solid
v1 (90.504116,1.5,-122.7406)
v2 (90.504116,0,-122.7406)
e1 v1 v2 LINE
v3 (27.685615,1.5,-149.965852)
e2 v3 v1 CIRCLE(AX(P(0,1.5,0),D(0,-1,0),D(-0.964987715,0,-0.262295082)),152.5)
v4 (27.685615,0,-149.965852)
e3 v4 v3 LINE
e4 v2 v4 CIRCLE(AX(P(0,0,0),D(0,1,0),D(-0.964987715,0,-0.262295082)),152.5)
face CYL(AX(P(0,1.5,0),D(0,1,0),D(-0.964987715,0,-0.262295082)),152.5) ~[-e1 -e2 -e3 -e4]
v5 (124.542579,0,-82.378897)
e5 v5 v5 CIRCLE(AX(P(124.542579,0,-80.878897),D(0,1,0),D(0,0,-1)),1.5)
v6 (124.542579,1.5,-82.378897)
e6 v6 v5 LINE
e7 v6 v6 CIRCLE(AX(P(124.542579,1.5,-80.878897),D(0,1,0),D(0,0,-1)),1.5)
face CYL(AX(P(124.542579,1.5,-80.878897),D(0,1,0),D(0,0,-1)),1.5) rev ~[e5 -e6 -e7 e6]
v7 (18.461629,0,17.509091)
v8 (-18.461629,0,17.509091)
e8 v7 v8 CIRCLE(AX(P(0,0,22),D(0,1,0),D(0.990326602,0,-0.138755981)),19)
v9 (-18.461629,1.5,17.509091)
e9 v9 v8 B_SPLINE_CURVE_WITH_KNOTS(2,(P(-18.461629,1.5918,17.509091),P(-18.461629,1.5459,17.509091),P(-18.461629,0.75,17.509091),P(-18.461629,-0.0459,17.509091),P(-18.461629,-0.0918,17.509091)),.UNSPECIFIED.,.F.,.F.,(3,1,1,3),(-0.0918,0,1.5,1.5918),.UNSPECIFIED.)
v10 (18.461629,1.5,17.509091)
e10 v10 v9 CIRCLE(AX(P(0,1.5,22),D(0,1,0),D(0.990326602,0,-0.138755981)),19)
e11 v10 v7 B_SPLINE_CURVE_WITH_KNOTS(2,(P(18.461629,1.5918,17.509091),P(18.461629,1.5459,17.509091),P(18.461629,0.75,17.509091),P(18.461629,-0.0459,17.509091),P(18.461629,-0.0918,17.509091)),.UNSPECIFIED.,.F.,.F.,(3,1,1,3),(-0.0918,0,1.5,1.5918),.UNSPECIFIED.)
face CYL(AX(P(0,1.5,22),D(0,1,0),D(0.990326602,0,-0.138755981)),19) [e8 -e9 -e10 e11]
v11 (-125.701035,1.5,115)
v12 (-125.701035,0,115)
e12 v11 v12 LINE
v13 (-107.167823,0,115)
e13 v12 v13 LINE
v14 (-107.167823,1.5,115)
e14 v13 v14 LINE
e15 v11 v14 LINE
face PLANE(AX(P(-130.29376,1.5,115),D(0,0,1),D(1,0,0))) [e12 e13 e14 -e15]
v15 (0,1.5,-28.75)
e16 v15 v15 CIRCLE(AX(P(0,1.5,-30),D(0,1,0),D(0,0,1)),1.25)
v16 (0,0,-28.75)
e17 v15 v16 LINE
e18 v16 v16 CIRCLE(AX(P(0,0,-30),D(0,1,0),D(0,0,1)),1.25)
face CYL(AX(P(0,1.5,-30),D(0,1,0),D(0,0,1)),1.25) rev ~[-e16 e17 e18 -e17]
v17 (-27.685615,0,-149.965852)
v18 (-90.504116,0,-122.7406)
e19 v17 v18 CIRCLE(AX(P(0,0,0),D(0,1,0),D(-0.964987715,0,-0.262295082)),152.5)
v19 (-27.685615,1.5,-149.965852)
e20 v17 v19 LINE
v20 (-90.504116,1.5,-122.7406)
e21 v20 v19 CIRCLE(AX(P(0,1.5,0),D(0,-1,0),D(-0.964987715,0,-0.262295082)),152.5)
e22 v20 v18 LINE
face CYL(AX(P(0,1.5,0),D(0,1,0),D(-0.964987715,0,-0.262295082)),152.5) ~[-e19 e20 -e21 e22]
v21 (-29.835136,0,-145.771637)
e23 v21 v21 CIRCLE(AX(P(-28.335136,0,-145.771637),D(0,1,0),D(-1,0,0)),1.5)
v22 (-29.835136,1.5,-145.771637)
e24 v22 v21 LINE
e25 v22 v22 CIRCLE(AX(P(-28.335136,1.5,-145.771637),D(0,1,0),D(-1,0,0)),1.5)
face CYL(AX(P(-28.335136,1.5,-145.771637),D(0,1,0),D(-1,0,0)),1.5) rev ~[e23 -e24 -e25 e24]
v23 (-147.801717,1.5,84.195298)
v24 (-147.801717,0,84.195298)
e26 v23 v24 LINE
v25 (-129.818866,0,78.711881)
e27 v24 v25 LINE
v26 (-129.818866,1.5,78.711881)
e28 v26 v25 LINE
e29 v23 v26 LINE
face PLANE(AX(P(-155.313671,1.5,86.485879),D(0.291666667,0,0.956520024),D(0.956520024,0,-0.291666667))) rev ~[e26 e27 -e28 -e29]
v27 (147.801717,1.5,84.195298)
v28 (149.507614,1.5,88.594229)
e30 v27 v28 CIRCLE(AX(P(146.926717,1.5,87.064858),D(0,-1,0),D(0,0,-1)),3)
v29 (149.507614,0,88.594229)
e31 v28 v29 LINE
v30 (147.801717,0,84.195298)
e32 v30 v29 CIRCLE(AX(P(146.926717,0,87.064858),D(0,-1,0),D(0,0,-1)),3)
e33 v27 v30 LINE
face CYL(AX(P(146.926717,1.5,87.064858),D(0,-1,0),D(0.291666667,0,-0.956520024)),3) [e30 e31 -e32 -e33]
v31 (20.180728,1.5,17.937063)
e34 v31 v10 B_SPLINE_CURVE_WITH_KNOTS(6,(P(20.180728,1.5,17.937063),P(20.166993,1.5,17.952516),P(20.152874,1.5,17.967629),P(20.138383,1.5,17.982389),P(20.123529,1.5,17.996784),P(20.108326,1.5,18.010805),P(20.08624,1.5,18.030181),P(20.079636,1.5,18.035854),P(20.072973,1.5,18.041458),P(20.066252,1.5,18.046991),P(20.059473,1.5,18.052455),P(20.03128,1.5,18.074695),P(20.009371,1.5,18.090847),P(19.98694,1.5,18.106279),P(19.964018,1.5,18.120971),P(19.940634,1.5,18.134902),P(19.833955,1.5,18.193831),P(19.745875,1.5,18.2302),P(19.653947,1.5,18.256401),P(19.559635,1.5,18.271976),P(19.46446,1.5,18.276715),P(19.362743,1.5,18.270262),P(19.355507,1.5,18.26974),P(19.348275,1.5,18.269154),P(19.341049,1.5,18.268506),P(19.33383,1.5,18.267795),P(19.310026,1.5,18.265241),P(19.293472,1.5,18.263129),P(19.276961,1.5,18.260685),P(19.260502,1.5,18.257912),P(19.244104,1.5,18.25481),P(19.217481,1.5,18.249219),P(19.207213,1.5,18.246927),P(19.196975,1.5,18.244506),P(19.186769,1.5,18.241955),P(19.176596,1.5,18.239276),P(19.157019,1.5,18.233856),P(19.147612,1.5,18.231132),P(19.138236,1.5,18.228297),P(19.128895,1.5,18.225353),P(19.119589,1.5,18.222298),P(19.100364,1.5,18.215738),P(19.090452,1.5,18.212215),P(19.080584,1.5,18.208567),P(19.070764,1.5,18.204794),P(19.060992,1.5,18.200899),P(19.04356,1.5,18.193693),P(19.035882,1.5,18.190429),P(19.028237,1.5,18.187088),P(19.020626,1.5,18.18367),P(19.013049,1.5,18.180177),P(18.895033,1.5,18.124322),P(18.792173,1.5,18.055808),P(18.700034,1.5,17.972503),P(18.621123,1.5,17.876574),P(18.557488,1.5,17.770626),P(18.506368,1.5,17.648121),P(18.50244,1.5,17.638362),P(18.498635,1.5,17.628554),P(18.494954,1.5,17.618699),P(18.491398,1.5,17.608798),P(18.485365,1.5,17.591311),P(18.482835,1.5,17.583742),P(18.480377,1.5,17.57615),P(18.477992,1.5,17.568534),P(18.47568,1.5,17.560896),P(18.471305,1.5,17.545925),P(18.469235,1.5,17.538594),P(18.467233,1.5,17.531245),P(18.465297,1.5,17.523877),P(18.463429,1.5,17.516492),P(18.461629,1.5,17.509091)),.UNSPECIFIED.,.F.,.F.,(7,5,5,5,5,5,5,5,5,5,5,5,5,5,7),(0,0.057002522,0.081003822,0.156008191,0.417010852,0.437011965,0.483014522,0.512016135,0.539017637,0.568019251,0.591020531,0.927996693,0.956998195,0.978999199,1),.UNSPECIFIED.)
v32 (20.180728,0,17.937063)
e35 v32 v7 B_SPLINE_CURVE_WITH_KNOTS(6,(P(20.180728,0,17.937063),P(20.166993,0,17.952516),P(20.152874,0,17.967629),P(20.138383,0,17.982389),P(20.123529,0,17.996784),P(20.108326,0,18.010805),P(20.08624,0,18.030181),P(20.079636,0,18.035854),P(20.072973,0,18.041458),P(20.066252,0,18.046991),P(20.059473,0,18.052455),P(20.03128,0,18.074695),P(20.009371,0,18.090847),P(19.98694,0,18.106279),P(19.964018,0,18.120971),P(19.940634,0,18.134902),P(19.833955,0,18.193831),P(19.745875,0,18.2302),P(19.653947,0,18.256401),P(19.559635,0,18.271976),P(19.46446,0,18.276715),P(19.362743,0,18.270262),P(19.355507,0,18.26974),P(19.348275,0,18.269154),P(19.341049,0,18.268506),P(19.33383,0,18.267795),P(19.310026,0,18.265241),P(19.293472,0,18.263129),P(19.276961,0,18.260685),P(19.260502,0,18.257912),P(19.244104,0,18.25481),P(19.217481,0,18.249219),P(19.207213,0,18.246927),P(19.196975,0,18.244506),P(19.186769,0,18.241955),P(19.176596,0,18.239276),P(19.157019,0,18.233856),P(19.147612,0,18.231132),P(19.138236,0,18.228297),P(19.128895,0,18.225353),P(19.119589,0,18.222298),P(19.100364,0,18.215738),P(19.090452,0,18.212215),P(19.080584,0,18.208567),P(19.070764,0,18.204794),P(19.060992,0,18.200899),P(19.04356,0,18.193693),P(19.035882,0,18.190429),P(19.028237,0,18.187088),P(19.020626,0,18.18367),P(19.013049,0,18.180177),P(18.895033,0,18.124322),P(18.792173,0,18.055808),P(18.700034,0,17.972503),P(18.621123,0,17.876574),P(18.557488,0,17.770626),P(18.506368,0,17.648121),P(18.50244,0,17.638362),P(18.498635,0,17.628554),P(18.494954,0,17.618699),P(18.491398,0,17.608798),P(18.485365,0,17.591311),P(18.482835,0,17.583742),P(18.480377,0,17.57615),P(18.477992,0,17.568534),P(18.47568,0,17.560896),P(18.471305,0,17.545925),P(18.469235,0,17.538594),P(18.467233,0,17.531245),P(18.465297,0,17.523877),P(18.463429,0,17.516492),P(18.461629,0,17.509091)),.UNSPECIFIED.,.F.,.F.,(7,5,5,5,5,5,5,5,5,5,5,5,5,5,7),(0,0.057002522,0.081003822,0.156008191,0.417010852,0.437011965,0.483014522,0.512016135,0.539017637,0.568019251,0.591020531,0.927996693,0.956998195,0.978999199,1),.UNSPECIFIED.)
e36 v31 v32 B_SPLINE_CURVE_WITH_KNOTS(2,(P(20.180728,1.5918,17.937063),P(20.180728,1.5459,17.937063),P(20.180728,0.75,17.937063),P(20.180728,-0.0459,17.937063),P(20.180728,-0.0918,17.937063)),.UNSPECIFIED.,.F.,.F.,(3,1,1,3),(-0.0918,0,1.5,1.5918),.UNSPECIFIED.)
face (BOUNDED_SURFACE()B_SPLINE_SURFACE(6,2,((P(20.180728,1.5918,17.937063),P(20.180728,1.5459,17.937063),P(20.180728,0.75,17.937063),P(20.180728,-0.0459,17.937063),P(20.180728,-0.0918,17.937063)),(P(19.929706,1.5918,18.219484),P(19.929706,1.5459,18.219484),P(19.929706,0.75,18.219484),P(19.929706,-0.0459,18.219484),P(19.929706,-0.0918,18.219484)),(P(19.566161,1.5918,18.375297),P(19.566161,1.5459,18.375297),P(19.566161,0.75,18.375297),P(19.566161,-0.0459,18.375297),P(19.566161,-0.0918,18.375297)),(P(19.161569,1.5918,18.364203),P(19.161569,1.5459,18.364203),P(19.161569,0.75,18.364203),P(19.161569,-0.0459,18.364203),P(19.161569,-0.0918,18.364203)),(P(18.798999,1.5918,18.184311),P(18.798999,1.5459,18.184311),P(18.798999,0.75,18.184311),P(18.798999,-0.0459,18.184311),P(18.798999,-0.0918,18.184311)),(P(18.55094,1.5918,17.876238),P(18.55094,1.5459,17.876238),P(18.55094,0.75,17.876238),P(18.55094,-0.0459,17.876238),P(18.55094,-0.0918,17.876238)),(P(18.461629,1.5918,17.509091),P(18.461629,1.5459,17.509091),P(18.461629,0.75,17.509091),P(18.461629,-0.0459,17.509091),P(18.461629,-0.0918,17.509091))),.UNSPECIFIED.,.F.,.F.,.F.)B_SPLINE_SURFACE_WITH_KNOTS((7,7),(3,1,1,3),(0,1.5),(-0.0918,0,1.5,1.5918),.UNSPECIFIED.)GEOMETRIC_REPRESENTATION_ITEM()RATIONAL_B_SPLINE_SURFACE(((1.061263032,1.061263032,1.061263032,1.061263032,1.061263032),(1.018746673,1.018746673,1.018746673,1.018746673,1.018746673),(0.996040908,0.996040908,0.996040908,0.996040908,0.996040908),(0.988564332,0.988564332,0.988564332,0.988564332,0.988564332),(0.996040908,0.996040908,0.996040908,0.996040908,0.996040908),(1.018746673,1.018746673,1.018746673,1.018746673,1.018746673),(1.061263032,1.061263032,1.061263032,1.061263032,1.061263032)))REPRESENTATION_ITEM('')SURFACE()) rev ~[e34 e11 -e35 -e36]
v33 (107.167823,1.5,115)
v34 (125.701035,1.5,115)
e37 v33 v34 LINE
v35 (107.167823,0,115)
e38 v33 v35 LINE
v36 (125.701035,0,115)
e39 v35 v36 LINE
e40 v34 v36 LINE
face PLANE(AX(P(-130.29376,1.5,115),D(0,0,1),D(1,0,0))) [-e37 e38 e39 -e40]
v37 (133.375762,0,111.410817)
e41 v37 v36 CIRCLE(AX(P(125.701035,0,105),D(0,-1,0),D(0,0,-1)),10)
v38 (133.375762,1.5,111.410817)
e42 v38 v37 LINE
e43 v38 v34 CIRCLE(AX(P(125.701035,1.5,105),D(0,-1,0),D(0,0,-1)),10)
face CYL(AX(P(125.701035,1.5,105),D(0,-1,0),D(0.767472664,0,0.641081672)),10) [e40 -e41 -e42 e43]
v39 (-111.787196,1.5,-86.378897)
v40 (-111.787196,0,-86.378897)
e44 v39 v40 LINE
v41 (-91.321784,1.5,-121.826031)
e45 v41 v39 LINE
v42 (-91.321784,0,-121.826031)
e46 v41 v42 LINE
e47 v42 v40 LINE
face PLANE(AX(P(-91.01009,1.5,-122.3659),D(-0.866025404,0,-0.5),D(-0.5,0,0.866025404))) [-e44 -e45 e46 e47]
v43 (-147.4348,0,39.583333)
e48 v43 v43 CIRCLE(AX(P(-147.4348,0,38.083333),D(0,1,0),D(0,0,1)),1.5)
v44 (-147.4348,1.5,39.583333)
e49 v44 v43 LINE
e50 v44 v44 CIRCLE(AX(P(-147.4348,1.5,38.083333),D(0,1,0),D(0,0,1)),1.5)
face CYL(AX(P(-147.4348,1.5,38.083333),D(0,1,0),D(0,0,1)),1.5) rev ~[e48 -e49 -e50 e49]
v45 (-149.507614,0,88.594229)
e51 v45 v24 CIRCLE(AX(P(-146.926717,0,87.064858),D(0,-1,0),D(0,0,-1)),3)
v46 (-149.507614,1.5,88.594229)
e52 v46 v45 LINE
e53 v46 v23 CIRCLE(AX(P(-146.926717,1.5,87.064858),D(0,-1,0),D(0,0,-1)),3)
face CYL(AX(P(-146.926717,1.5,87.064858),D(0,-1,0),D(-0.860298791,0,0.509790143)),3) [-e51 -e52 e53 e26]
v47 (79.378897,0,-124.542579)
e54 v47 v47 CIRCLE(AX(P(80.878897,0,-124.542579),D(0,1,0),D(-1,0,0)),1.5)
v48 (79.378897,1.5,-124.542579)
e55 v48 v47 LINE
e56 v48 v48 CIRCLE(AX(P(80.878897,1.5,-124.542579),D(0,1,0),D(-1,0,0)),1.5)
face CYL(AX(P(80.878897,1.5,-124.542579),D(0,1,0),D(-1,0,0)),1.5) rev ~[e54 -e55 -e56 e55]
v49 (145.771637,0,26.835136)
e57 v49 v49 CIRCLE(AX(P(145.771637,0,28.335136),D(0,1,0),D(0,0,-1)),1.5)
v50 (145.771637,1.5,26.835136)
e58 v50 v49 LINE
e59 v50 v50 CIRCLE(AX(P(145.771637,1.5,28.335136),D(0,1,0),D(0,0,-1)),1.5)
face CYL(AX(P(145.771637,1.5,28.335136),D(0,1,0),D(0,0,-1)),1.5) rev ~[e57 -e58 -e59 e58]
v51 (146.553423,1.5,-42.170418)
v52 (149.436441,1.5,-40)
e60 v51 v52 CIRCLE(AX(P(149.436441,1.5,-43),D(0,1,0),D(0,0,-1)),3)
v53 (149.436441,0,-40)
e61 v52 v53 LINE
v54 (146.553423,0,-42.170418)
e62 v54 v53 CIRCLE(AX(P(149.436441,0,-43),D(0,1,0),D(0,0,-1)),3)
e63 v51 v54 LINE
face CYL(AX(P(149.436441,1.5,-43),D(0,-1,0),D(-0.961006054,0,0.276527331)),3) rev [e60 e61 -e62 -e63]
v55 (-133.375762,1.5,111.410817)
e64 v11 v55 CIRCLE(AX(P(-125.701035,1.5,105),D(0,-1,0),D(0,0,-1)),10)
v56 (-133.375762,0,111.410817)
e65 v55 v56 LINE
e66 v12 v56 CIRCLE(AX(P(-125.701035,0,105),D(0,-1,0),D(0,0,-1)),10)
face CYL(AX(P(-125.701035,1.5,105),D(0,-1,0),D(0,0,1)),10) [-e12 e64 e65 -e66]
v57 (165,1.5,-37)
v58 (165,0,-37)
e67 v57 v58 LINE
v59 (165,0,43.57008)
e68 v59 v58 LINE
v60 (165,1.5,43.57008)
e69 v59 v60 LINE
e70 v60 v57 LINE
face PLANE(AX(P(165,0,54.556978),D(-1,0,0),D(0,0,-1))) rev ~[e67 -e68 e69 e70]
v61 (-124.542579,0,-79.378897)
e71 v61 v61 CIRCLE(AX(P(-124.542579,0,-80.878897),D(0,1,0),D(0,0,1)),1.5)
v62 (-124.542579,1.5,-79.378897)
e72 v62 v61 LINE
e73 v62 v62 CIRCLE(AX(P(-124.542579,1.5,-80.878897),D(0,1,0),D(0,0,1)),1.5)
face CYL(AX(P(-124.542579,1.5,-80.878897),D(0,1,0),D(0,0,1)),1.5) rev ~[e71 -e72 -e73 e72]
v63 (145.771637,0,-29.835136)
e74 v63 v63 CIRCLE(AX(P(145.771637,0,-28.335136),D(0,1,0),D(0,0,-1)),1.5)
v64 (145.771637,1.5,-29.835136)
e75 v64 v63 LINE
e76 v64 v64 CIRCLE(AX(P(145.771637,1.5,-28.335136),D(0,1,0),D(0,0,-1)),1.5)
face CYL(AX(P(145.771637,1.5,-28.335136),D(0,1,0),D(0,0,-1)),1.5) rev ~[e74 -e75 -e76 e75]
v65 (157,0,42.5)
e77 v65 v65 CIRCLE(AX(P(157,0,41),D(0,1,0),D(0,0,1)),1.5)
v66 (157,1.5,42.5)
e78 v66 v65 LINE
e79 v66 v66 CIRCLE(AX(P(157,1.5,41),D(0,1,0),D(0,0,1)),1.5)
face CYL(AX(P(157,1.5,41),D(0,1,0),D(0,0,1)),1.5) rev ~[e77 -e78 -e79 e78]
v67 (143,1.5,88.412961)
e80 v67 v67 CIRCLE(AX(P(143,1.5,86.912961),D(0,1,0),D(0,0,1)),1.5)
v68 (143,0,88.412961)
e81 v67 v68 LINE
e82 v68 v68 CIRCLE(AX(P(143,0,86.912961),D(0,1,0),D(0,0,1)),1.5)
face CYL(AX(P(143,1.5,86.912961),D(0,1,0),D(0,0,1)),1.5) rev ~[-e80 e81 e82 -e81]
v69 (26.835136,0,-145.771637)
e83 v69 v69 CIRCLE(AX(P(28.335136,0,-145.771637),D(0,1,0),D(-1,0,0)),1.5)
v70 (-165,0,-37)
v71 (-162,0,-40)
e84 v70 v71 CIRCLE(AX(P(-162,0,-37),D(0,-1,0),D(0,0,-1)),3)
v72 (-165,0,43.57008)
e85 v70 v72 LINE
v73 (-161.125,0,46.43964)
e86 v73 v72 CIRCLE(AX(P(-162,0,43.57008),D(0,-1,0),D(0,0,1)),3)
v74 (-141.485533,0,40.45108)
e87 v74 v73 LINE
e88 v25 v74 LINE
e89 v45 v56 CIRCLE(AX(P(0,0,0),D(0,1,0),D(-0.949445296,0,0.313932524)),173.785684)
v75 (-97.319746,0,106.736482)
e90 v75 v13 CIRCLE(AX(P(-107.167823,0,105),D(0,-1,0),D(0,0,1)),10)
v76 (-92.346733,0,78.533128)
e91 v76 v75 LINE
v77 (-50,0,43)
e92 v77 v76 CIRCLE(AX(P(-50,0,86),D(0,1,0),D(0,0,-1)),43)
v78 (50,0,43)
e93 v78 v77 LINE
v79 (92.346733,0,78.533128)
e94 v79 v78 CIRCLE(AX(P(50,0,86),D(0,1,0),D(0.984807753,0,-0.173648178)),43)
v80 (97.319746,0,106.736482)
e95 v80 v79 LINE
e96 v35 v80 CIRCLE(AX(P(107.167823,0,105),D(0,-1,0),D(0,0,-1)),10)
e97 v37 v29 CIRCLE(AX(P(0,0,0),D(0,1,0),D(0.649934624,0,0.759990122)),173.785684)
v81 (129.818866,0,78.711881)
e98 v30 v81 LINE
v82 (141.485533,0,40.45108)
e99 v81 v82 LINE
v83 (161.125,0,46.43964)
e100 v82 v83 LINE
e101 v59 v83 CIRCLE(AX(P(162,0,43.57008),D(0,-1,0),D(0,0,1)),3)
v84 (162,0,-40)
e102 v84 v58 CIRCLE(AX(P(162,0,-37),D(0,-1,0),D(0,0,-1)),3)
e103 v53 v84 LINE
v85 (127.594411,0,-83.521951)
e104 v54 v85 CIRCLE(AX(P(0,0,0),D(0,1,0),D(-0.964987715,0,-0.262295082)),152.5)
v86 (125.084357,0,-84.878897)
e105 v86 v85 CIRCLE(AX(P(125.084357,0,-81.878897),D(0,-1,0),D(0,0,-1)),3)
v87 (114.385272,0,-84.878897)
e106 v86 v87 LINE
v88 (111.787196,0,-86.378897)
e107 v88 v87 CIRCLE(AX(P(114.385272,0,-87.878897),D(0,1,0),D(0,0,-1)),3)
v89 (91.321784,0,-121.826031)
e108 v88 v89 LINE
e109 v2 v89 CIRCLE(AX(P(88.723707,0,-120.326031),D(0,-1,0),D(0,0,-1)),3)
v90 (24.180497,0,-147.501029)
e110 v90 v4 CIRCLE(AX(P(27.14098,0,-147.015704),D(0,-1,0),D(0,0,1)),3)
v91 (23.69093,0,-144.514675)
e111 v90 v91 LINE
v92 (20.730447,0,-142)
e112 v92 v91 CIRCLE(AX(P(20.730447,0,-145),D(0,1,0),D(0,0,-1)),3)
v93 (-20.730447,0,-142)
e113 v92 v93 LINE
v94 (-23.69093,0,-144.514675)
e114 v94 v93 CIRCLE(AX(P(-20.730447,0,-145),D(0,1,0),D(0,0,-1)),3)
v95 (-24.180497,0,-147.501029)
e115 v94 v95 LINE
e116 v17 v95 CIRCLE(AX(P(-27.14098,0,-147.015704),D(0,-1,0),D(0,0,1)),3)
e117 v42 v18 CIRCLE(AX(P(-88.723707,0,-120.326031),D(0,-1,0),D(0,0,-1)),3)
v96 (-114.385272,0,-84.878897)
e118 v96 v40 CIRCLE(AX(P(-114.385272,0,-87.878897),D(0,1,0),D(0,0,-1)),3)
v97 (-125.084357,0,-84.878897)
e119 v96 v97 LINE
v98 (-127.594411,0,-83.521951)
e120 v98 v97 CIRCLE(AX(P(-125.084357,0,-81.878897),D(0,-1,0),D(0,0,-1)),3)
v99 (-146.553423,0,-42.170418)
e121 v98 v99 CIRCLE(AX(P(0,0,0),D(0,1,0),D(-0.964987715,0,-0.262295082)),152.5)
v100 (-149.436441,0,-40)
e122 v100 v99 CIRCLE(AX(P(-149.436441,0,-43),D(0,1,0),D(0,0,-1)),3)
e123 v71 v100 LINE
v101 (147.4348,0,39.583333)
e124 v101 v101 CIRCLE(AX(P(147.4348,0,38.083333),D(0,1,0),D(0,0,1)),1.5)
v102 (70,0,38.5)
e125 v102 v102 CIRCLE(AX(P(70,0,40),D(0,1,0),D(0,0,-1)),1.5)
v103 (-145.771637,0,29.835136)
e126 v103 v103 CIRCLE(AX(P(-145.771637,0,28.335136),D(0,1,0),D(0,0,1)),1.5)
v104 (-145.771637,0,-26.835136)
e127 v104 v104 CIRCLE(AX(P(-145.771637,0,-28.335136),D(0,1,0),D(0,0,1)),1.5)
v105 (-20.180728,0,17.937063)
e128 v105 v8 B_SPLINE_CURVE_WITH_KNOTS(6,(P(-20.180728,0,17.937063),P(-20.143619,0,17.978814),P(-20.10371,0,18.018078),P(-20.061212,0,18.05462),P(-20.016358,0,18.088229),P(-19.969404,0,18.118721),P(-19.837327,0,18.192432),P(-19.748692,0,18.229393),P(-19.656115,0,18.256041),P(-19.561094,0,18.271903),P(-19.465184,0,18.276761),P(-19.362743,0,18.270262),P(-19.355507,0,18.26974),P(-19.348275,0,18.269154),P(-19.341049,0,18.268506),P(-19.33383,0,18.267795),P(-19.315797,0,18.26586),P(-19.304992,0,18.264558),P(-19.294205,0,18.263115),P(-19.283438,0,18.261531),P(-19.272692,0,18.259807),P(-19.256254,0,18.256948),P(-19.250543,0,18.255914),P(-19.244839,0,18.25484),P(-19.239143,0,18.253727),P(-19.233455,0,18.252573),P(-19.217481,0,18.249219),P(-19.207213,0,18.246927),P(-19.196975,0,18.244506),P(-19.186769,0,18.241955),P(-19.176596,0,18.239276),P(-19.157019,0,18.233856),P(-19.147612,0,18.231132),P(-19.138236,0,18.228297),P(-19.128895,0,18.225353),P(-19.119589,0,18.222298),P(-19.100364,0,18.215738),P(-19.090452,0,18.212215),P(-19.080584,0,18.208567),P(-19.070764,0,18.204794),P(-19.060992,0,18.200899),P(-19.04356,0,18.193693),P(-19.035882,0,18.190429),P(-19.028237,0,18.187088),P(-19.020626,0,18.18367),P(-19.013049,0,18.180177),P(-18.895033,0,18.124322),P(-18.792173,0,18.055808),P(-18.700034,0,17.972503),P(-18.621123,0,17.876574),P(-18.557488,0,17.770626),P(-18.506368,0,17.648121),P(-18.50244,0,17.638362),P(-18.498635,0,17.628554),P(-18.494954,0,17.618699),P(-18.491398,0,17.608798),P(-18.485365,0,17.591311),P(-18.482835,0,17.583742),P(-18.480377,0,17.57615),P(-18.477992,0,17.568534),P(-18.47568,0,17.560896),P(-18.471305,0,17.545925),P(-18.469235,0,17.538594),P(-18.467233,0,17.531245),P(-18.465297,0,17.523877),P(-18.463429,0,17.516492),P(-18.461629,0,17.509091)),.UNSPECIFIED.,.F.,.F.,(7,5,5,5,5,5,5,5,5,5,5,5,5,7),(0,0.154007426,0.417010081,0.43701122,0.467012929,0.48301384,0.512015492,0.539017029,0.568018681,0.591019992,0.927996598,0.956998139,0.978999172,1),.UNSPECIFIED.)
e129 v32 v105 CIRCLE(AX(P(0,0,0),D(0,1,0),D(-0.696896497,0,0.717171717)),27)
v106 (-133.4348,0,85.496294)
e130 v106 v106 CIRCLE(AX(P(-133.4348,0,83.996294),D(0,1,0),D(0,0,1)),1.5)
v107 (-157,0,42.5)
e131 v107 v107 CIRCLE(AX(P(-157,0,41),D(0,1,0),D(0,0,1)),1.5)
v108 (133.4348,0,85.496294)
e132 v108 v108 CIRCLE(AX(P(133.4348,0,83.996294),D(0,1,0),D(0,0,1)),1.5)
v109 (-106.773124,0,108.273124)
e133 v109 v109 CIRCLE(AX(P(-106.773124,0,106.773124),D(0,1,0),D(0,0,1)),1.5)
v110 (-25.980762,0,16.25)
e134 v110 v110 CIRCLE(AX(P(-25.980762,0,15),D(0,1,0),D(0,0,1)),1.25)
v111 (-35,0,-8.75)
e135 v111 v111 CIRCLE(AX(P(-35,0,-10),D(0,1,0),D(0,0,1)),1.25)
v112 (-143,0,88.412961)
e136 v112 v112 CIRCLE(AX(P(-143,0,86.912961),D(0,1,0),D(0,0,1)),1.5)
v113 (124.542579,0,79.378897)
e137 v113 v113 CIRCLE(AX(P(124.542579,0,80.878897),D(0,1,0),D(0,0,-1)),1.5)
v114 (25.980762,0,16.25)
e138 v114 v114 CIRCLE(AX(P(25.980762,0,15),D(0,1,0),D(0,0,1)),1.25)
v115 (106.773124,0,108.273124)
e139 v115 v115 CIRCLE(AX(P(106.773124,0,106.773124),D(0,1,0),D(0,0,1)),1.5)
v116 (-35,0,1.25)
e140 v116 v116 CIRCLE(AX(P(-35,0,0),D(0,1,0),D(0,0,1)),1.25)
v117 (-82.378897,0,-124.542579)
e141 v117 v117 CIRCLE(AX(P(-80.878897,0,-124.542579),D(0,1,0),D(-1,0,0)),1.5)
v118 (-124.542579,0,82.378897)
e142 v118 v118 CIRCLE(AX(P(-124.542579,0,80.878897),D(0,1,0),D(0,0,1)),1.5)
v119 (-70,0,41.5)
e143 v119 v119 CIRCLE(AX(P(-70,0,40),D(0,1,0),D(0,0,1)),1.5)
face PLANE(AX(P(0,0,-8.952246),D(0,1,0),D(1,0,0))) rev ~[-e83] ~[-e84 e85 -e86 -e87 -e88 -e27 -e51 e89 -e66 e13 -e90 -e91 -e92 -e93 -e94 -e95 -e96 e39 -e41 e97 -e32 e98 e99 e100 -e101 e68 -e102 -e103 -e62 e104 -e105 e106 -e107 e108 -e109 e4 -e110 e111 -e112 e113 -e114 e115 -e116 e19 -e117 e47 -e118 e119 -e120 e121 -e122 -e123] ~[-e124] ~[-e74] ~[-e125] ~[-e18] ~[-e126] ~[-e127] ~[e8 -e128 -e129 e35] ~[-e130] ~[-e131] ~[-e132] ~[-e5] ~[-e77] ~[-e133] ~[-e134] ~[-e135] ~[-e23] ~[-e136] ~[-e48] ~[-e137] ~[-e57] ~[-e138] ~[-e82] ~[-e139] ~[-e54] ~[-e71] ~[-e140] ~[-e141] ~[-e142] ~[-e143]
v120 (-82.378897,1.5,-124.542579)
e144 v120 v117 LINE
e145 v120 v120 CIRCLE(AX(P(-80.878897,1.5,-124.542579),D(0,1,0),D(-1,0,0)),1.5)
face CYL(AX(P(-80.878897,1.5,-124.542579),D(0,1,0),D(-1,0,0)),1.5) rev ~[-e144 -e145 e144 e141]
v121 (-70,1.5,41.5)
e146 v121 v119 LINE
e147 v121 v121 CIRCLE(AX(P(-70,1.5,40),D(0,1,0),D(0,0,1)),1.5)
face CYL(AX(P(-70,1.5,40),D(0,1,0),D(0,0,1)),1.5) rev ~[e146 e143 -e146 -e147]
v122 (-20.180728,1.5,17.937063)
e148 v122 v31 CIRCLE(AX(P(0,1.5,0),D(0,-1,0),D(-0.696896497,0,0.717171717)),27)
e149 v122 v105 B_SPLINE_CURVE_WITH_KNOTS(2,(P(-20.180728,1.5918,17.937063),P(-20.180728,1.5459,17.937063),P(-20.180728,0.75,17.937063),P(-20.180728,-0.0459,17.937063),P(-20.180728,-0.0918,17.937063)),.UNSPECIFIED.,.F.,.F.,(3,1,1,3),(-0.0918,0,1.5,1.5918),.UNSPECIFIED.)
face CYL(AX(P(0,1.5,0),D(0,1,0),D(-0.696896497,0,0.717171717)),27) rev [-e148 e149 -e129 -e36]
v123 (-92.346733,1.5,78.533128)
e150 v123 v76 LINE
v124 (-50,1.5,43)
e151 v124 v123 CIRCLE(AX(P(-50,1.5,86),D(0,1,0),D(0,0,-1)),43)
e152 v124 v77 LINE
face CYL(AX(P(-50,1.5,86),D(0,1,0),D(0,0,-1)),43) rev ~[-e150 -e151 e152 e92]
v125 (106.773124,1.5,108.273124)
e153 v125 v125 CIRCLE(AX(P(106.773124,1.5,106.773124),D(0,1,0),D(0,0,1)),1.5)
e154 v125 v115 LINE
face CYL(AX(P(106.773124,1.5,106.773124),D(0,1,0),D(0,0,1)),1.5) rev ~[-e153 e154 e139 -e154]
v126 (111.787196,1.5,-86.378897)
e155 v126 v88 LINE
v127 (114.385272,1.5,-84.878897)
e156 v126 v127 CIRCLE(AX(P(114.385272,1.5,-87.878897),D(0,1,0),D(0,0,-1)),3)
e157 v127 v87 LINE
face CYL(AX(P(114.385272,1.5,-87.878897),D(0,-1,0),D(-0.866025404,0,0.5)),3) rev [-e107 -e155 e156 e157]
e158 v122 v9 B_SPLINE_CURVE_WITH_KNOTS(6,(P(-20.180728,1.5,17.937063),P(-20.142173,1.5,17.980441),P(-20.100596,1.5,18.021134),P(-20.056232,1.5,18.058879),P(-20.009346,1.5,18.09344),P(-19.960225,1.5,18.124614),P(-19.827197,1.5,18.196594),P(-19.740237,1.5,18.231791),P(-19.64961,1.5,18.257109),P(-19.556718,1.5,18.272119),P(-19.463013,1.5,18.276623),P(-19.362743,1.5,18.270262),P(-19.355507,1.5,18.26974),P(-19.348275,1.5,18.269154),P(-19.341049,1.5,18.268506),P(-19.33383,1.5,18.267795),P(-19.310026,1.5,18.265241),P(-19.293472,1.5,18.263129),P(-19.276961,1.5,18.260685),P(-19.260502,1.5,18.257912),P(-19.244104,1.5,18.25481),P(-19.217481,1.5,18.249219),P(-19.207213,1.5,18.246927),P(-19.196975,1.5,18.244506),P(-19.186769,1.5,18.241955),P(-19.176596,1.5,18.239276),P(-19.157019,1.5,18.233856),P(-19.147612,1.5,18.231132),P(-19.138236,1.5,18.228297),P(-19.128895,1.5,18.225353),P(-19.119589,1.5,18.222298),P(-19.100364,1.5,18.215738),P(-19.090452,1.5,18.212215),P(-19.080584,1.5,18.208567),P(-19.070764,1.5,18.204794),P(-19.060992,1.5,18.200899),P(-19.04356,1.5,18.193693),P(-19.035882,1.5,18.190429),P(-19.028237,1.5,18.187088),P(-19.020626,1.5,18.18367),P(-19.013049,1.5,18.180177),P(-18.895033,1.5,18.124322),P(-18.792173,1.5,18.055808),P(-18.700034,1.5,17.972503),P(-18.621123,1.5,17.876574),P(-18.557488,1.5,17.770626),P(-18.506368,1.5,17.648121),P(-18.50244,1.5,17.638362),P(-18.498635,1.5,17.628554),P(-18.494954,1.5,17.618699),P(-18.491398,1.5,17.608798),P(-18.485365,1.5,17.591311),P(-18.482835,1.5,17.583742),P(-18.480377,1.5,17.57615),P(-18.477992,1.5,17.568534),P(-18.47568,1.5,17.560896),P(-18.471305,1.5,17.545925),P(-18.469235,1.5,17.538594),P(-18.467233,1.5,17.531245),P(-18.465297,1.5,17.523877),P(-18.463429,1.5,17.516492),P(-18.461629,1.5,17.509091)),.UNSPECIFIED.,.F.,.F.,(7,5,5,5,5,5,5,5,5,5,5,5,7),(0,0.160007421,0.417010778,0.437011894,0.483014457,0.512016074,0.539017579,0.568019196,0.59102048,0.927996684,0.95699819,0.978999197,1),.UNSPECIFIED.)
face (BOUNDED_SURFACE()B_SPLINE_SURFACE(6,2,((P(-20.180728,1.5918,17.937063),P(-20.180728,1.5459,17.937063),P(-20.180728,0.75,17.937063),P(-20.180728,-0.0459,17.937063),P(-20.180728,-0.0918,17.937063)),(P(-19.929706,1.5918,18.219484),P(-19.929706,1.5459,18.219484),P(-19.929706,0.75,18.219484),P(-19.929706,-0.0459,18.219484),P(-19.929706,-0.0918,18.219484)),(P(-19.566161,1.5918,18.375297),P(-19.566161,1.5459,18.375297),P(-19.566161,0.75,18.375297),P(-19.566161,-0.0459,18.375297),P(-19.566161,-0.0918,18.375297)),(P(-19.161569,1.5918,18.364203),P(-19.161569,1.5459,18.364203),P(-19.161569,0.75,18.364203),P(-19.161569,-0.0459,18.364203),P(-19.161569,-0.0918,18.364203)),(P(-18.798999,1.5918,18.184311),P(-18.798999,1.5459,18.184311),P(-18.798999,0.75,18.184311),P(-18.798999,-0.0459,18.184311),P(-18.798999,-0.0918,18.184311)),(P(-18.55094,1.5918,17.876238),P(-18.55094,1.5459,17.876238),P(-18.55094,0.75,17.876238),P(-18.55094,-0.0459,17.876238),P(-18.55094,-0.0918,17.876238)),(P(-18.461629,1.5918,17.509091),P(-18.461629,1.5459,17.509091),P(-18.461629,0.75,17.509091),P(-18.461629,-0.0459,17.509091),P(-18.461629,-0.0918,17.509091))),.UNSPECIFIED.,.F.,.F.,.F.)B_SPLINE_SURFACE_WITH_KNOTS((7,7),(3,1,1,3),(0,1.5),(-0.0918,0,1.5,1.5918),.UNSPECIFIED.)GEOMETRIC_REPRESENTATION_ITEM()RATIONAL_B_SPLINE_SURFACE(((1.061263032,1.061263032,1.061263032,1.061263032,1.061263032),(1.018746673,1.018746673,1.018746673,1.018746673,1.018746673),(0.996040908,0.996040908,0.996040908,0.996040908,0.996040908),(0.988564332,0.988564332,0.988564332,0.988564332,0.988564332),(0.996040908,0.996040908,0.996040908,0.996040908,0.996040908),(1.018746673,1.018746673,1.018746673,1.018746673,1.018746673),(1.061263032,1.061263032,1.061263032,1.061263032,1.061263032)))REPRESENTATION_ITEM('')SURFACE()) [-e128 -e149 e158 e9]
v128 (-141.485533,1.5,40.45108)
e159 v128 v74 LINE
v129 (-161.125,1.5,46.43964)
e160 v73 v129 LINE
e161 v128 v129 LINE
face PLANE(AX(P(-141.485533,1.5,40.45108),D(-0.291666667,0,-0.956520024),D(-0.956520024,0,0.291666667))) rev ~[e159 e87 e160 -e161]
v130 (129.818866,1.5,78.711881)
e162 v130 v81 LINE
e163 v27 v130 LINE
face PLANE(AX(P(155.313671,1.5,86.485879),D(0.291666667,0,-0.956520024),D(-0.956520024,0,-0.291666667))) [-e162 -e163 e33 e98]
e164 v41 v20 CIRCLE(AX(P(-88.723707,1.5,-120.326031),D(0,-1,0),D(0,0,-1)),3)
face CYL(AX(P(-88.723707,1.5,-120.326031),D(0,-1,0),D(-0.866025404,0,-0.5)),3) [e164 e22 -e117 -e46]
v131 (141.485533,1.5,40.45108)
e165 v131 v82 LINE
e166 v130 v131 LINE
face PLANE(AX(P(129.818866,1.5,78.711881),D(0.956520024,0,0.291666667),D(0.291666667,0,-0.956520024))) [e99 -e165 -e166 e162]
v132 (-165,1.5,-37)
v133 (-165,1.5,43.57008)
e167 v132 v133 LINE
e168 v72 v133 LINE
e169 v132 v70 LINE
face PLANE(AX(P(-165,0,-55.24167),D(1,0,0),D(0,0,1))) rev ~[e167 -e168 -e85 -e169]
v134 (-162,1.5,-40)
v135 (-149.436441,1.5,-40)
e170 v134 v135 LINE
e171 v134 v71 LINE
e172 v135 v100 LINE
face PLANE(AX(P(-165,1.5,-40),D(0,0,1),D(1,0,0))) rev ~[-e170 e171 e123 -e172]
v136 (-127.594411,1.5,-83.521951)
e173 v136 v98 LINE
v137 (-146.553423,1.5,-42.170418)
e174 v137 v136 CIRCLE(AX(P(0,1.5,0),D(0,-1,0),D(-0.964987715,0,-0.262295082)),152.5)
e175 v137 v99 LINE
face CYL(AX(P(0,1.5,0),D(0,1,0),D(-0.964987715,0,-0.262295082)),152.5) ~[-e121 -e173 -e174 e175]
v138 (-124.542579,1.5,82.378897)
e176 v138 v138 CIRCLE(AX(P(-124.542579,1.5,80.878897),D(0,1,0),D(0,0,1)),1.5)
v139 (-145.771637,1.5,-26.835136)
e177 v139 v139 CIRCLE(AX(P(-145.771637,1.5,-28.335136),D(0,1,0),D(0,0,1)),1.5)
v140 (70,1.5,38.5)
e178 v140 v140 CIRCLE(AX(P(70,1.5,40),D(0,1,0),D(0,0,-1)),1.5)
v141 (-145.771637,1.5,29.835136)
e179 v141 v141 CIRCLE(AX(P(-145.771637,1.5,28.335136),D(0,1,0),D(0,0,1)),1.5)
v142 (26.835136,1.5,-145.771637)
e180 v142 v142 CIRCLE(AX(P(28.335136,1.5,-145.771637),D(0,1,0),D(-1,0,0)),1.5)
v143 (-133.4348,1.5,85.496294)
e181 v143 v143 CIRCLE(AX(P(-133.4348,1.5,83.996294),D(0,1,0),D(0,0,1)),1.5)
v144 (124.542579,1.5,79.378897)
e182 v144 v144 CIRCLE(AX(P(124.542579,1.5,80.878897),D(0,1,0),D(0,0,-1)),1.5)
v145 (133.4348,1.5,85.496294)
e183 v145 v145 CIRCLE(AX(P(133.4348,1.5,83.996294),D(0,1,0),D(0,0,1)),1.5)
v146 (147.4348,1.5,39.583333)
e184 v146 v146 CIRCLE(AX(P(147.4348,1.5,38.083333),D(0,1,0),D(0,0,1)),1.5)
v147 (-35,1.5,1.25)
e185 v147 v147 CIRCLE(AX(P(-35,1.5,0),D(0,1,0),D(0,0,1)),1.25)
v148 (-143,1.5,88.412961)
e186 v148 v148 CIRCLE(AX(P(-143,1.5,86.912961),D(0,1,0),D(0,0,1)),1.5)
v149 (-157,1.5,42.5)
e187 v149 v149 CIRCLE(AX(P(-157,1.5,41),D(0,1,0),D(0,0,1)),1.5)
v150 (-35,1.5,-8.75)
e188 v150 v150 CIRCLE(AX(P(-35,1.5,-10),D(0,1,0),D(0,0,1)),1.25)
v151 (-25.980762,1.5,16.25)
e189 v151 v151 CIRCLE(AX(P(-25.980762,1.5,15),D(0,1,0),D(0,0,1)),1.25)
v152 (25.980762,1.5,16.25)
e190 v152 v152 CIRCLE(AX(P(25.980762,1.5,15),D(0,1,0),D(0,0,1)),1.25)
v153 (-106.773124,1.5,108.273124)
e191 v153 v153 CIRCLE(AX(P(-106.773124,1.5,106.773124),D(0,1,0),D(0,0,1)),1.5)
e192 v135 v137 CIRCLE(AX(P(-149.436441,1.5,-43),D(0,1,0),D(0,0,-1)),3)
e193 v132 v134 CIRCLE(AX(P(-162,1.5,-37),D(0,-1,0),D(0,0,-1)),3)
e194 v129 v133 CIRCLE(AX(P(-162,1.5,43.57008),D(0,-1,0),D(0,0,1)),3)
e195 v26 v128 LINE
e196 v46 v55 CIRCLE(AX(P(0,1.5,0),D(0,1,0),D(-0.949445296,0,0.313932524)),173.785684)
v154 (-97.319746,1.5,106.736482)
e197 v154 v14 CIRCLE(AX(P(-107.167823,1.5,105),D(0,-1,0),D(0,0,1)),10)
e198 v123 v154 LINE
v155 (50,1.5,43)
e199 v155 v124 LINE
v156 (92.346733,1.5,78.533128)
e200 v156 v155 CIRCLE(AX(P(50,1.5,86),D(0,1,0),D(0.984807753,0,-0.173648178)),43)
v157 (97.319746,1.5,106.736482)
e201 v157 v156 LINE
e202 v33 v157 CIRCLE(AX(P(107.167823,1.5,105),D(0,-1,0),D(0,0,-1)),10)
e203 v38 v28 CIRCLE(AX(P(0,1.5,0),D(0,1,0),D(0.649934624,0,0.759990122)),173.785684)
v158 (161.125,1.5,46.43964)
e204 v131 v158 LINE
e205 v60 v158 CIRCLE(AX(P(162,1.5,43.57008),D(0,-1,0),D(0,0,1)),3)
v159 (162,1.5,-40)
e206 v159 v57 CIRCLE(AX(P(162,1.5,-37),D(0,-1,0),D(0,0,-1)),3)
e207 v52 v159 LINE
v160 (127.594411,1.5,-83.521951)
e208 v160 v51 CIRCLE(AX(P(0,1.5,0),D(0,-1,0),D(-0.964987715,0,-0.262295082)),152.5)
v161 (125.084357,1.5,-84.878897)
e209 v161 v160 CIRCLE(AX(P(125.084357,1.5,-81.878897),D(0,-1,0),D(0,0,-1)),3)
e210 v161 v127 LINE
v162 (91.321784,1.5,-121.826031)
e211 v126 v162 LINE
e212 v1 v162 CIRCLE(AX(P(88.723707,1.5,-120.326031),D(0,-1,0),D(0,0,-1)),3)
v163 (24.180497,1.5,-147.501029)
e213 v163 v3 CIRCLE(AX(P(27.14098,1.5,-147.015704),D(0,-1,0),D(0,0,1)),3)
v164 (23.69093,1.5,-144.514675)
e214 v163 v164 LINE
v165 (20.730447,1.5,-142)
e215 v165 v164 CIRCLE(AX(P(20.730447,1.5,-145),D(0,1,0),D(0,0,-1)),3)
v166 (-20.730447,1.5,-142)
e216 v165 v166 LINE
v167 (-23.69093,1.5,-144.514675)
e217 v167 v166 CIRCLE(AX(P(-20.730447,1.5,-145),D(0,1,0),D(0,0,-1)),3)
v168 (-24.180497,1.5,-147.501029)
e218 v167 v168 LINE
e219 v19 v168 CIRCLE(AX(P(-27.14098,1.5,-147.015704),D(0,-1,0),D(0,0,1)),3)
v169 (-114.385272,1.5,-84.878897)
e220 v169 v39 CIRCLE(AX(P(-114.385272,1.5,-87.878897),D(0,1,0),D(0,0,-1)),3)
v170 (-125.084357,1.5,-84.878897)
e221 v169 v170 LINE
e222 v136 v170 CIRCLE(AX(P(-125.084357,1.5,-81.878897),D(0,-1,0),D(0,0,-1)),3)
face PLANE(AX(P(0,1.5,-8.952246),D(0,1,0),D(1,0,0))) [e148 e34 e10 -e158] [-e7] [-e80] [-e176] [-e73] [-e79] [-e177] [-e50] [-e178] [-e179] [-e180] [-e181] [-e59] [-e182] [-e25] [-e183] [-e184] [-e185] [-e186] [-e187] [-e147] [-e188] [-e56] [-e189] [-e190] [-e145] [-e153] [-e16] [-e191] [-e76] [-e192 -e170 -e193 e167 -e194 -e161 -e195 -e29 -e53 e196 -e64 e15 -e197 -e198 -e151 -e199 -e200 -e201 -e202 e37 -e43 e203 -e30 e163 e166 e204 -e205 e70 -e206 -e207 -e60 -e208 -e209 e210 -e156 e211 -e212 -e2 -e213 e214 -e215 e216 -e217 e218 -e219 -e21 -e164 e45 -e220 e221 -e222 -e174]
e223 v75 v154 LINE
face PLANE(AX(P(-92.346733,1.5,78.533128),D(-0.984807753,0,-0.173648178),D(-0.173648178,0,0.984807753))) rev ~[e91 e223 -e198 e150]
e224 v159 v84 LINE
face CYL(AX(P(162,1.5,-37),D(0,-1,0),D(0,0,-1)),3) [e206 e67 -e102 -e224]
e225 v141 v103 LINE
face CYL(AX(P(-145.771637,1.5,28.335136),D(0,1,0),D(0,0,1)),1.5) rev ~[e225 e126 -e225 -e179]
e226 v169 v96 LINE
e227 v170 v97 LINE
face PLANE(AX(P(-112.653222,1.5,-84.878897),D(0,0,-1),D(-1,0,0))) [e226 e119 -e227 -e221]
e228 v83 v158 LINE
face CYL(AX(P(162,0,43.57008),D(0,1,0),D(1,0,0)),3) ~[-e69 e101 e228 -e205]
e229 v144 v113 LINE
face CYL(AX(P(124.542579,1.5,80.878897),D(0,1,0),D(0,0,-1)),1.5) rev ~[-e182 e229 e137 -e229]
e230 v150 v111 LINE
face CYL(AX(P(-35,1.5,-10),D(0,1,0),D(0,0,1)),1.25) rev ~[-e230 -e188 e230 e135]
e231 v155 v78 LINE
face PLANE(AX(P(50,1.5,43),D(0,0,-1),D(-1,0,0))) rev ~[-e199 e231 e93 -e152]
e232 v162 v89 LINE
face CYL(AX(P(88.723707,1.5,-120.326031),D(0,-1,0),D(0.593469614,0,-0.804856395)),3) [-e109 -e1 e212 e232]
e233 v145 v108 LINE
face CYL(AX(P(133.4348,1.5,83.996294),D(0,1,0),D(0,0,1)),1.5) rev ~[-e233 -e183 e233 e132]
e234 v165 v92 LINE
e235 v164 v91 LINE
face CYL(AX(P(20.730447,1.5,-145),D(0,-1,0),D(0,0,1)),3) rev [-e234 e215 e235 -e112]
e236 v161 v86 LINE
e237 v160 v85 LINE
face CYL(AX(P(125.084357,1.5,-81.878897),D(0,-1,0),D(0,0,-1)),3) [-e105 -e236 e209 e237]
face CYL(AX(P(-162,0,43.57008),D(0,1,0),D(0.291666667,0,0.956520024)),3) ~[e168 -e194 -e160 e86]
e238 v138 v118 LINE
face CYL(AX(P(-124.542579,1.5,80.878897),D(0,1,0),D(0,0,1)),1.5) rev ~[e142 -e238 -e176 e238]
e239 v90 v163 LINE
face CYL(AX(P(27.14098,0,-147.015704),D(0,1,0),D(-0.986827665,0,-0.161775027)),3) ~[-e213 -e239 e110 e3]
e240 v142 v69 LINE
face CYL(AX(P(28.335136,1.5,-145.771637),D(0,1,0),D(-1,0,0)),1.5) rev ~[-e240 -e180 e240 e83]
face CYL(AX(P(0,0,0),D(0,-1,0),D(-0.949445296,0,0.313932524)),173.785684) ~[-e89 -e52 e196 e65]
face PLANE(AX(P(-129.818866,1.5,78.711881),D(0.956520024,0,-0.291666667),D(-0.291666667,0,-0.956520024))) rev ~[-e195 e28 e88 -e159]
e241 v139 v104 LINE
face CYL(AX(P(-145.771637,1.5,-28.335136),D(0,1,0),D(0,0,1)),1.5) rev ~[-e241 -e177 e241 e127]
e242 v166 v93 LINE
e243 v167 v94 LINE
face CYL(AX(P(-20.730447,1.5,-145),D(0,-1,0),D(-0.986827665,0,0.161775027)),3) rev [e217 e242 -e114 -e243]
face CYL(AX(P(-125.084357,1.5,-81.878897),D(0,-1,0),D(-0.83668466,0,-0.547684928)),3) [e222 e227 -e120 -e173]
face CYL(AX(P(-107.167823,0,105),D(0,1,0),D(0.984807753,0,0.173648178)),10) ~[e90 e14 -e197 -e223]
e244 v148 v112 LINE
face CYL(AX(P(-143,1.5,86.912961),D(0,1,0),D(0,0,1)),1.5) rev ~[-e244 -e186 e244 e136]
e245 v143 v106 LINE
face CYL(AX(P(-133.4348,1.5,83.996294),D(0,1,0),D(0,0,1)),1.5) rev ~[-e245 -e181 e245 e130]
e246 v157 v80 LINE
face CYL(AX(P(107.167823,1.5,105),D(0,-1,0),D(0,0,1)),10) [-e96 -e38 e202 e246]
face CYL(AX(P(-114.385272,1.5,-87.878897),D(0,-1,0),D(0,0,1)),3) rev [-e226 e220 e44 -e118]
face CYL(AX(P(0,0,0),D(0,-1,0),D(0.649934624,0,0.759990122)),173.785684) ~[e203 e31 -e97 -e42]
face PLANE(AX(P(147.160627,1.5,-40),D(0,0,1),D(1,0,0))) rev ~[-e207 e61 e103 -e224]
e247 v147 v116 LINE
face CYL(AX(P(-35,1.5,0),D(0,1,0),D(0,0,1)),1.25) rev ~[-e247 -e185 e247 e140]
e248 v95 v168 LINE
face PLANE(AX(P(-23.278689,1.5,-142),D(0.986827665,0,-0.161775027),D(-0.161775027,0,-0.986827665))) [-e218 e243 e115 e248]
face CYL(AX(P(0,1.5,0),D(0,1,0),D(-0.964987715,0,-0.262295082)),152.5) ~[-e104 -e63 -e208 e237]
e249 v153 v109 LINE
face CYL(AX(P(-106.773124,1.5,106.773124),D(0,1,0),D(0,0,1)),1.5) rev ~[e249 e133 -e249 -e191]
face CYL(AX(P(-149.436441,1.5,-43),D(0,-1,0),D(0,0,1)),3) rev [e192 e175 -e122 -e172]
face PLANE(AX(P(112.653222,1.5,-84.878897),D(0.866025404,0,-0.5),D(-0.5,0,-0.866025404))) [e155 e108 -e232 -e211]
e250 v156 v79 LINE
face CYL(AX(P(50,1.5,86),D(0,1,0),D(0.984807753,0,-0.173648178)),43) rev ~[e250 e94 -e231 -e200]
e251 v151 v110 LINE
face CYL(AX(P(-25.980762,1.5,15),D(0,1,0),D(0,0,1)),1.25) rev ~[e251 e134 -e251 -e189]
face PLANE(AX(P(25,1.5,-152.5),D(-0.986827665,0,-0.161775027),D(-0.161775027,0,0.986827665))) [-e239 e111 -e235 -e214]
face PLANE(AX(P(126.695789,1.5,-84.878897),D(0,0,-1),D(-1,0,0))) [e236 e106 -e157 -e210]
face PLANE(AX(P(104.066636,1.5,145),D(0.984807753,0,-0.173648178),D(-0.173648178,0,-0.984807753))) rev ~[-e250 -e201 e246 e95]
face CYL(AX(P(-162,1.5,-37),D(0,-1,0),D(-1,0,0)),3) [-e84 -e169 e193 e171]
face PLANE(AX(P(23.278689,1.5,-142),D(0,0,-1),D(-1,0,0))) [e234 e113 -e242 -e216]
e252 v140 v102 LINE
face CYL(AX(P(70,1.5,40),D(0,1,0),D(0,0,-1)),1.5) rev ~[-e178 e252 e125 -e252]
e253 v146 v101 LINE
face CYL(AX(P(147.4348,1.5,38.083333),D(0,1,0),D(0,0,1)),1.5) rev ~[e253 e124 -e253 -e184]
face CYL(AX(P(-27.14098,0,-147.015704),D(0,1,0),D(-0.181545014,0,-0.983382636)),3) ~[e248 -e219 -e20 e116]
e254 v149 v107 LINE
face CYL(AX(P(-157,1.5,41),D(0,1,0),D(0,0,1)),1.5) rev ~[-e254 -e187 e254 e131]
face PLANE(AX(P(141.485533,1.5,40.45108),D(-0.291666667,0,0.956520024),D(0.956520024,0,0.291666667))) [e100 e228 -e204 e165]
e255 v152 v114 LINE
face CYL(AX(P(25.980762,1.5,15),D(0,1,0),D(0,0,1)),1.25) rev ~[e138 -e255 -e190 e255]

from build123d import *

# Parameters (mm, degrees)
BOSS_EXTRU_1_DEPTH           = 1.5
ESQUISSE2_R                  = 1.5
ENL_V_MAT_EXTRU_1_DEPTH      = 10
ESQUISSE3_W                  = 260.587519956
ESQUISSE3_H                  = 19.442661658
ENL_V_MAT_EXTRU_2_DEPTH      = 230.841793415
CONG_1_R                     = 10
CONG_2_R                     = 1
ESQUISSE4_R                  = 1.5
ENL_V_MAT_EXTRU_3_DEPTH      = 230.841793557
R_P_TITION_CIRCULAIRE1_COUNT = 3
R_P_TITION_CIRCULAIRE1_ANGLE = 180
ESQUISSE5_R                  = 1.5
ENL_V_MAT_EXTRU_4_DEPTH      = 230.841793557
ENL_V_MAT_EXTRU_5_DEPTH      = 230.841793557
ENL_V_MAT_EXTRU_6_DEPTH      = 225.685335667
CONG_3_R                     = 3
ESQUISSE8_R                  = 1.25
ENL_V_MAT_EXTRU_7_DEPTH      = 4
ENL_V_MAT_EXTRU_8_DEPTH      = 225.685335667
CONG_4_R                     = 3


with BuildPart() as part:
    # Esquisse1 → Boss.-Extru.1 (new body)
    with BuildSketch(Plane(origin=(0, 0, 0), x_dir=(1, 0, 0), z_dir=(0, 1, 0))):
        with BuildLine():
            Line((165, -54.556978373), (165, 55.241669751))
            Line((165, 55.241669751), (104.517749831, 160))
            Line((104.517749831, 160), (-104.517749831, 160))
            Line((-104.517749831, 160), (-165, 55.241669751))
            Line((-165, 55.241669751), (-165, -54.556978373))
            ThreePointArc((-165, -54.556978373), (-144.278322914, -96.877393783), (-112.949332972, -132.075402973))
            ThreePointArc((-112.949332972, -132.075402973), (0, -145), (112.949332972, -132.075402973))
            ThreePointArc((112.949332972, -132.075402973), (144.278322914, -96.877393783), (165, -54.556978373))
        make_face()
    extrude(amount=BOSS_EXTRU_1_DEPTH)

    # Esquisse2 → Enlèv. mat.-Extru.1 (cut)
    with BuildSketch(Plane(origin=(0, 1.5, 0), x_dir=(1, 0, 0), z_dir=(0, 1, 0))):
        with Locations(Location((-106.773123959, -106.773123959, 0), (0, 0, 270))):
            Circle(ESQUISSE2_R)
        with Locations(Location((143, -86.912961133, 0), (0, 0, 270))):
            Circle(ESQUISSE2_R)
        with Locations(Location((133.434799764, -83.996294466, 0), (0, 0, 270))):
            Circle(ESQUISSE2_R)
        with Locations(Location((147.434799764, -38.083333333, 0), (0, 0, 270))):
            Circle(ESQUISSE2_R)
        with Locations(Location((157, -41, 0), (0, 0, 270))):
            Circle(ESQUISSE2_R)
        with Locations(Location((-147.434799764, -38.083333333, 0), (0, 0, 270))):
            Circle(ESQUISSE2_R)
        with Locations(Location((-157, -41, 0), (0, 0, 270))):
            Circle(ESQUISSE2_R)
        with Locations(Location((-143, -86.912961133, 0), (0, 0, 270))):
            Circle(ESQUISSE2_R)
        with Locations(Location((-133.434799764, -83.996294466, 0), (0, 0, 270))):
            Circle(ESQUISSE2_R)
        with Locations(Location((106.773123959, -106.773123959, 0), (0, 0, 270))):
            Circle(ESQUISSE2_R)
        with BuildLine():
            Line((-92.34673338, -78.53312836), (-104.066636173, -145))
            Line((-104.066636173, -145), (104.066636173, -145))
            Line((104.066636173, -145), (92.34673338, -78.53312836))
            ThreePointArc((92.34673338, -78.53312836), (77.639867217, -53.060088946), (50, -43))
            Line((50, -43), (-50, -43))
            ThreePointArc((-50, -43), (-77.639867217, -53.060088946), (-92.34673338, -78.53312836))
        make_face()
        Polygon((141.485532979, -40.451080094), (166.980337187, -48.225077896), (155.31367052, -86.48587884), (129.818866313, -78.711881039), align=None)
        Polygon((-141.485532979, -40.451080094), (-166.980337187, -48.225077896), (-155.31367052, -86.48587884), (-129.818866313, -78.711881039), align=None)
        with BuildLine():
            ThreePointArc((18.81620543, -19.363636364), (0, -3), (-18.81620543, -19.363636364))
            ThreePointArc((-18.81620543, -19.363636364), (0, 27), (18.81620543, -19.363636364))
        make_face()
    extrude(amount=-ENL_V_MAT_EXTRU_1_DEPTH, mode=Mode.SUBTRACT)

    # Esquisse3 → Enlèv. mat.-Extru.2 (cut, through all)
    with BuildSketch(Plane(origin=(0, 1.5, 0), x_dir=(1, 0, 0), z_dir=(0, 1, 0))):
        with Locations((0, -124.721330829)):
            Rectangle(ESQUISSE3_W, ESQUISSE3_H)
    extrude(amount=-ENL_V_MAT_EXTRU_2_DEPTH, mode=Mode.SUBTRACT)

    # Congé1
    cong_1_edges = [part.edges().sort_by_distance(p)[0] for p in [
        (-165, 0.75, -55.241669751),
        (-104.517749831, 0.75, -160),
        (104.517749831, 0.75, -160),
        (165, 0.75, -55.241669751),
        (98.776826752, 0.75, 115),
        (-98.776826752, 0.75, 115),
        (-130.293759978, 0.75, 115),
        (130.293759978, 0.75, 115),
    ]]
    fillet(cong_1_edges, radius=CONG_1_R)

    # Congé2
    cong_2_edges = [part.edges().sort_by_distance(p)[0] for p in [
        (-18.81620543, 0.75, 19.363636364),
        (18.81620543, 0.75, 19.363636364),
    ]]
    fillet(cong_2_edges, radius=CONG_2_R)

    # Esquisse4 → Enlèv. mat.-Extru.3 (cut, through all)
    with BuildSketch(Plane(origin=(0, 1.5, 0), x_dir=(1, 0, 0), z_dir=(0, 1, 0))):
        with Locations(Location((-124.54257934, -80.8788967, 0), (0, 0, 270))):
            Circle(ESQUISSE4_R)
        with Locations(Location((-145.771636742, -28.335135813, 0), (0, 0, 270))):
            Circle(ESQUISSE4_R)
        with Locations(Location((-145.771636742, 28.335135813, 0), (0, 0, 270))):
            Circle(ESQUISSE4_R)
        with Locations(Location((-124.54257934, 80.8788967, 0), (0, 0, 270))):
            Circle(ESQUISSE4_R)
    enl_v_mat_extru_3 = extrude(amount=-ENL_V_MAT_EXTRU_3_DEPTH, mode=Mode.SUBTRACT)

    # Répétition circulaire1: Enlèv. mat.-Extru.3 ×3 about axis
    r_p_tition_circulaire1_axis = Axis((0, 0, 0), (0, -1, 0))
    for i in range(1, R_P_TITION_CIRCULAIRE1_COUNT):
        add(enl_v_mat_extru_3.rotate(r_p_tition_circulaire1_axis, i * R_P_TITION_CIRCULAIRE1_ANGLE / (R_P_TITION_CIRCULAIRE1_COUNT - 1)), mode=Mode.SUBTRACT)

    # Esquisse5 → Enlèv. mat.-Extru.4 (cut, through all)
    with BuildSketch(Plane(origin=(0, 1.5, 0), x_dir=(1, 0, 0), z_dir=(0, 1, 0))):
        with Locations(Location((-70, -40, 0), (0, 0, 270))):
            Circle(ESQUISSE5_R)
        with Locations(Location((70, -40, 0), (0, 0, 90))):
            Circle(ESQUISSE5_R)
    extrude(amount=-ENL_V_MAT_EXTRU_4_DEPTH, mode=Mode.SUBTRACT)

    # Esquisse6 → Enlèv. mat.-Extru.5 (cut, through all)
    with BuildSketch(Plane(origin=(0, 1.5, 0), x_dir=(1, 0, 0), z_dir=(0, 1, 0))):
        with BuildLine():
            Line((-165, 40), (-147.160626528, 40))
            ThreePointArc((-147.160626528, 40), (0, 152.5), (147.160626528, 40))
            Line((147.160626528, 40), (165, 40))
            Line((165, 40), (165, 160))
            Line((165, 160), (-165, 160))
            Line((-165, 160), (-165, 40))
        make_face()
    extrude(amount=-ENL_V_MAT_EXTRU_5_DEPTH, mode=Mode.SUBTRACT)

    # Esquisse7 → Enlèv. mat.-Extru.6 (cut, through all)
    with BuildSketch(Plane(origin=(0, 1.5, 0), x_dir=(1, 0, 0), z_dir=(0, 1, 0))):
        Polygon((126.695788782, 122.365900164), (126.695788782, 84.8788967), (112.653221515, 84.8788967), (91.010089974, 122.365900164), align=None)
        Polygon((-91.010089974, 122.365900164), (-112.653221515, 84.8788967), (-126.695788782, 84.8788967), (-126.695788782, 122.365900164), align=None)
    extrude(amount=-ENL_V_MAT_EXTRU_6_DEPTH, mode=Mode.SUBTRACT)

    # Congé3
    cong_3_edges = [part.edges().sort_by_distance(p)[0] for p in [
        (-151.413225219, 0.75, 85.296536378),
        (-165, 0.75, 47.621223996),
        (-165, 0.75, -40),
        (165, 0.75, -40),
        (147.160626528, 0.75, -40),
        (-147.160626528, 0.75, -40),
        (91.010089974, 0.75, -122.365900164),
        (126.695788782, 0.75, -84.8788967),
        (112.653221515, 0.75, -84.8788967),
        (-91.010089974, 0.75, -122.365900164),
        (-112.653221515, 0.75, -84.8788967),
        (-126.695788782, 0.75, -84.8788967),
        (165, 0.75, 47.621223996),
        (151.413225219, 0.75, 85.296536378),
    ]]
    fillet(cong_3_edges, radius=CONG_3_R)

    # Esquisse8 → Enlèv. mat.-Extru.7 (cut)
    with BuildSketch(Plane(origin=(0, 1.5, 0), x_dir=(1, 0, 0), z_dir=(0, 1, 0))):
        with Locations(Location((-35, 0, 0), (0, 0, 270))):
            Circle(ESQUISSE8_R)
        with Locations(Location((-35, 10, 0), (0, 0, 270))):
            Circle(ESQUISSE8_R)
        with Locations(Location((0, 30, 0), (0, 0, 270))):
            Circle(ESQUISSE8_R)
        with Locations(Location((25.980762114, -15, 0), (0, 0, 270))):
            Circle(ESQUISSE8_R)
        with Locations(Location((-25.980762114, -15, 0), (0, 0, 270))):
            Circle(ESQUISSE8_R)
    extrude(amount=-ENL_V_MAT_EXTRU_7_DEPTH, mode=Mode.SUBTRACT)

    # Esquisse9 → Enlèv. mat.-Extru.8 (cut, through all)
    with BuildSketch(Plane(origin=(0, 1.5, 0), x_dir=(1, 0, 0), z_dir=(0, 1, 0))):
        Polygon((-25, 152.5), (25, 152.5), (23.278688525, 142), (-23.278688525, 142), align=None)
    extrude(amount=-ENL_V_MAT_EXTRU_8_DEPTH, mode=Mode.SUBTRACT)

    # Congé4
    cong_4_edges = [part.edges().sort_by_distance(p)[0] for p in [
        (-24.670691628, 0.75, -150.491218929),
        (-23.278688525, 0.75, -142),
        (24.670691628, 0.75, -150.491218929),
        (23.278688525, 0.75, -142),
    ]]
    fillet(cong_4_edges, radius=CONG_4_R)


solid = part.part
